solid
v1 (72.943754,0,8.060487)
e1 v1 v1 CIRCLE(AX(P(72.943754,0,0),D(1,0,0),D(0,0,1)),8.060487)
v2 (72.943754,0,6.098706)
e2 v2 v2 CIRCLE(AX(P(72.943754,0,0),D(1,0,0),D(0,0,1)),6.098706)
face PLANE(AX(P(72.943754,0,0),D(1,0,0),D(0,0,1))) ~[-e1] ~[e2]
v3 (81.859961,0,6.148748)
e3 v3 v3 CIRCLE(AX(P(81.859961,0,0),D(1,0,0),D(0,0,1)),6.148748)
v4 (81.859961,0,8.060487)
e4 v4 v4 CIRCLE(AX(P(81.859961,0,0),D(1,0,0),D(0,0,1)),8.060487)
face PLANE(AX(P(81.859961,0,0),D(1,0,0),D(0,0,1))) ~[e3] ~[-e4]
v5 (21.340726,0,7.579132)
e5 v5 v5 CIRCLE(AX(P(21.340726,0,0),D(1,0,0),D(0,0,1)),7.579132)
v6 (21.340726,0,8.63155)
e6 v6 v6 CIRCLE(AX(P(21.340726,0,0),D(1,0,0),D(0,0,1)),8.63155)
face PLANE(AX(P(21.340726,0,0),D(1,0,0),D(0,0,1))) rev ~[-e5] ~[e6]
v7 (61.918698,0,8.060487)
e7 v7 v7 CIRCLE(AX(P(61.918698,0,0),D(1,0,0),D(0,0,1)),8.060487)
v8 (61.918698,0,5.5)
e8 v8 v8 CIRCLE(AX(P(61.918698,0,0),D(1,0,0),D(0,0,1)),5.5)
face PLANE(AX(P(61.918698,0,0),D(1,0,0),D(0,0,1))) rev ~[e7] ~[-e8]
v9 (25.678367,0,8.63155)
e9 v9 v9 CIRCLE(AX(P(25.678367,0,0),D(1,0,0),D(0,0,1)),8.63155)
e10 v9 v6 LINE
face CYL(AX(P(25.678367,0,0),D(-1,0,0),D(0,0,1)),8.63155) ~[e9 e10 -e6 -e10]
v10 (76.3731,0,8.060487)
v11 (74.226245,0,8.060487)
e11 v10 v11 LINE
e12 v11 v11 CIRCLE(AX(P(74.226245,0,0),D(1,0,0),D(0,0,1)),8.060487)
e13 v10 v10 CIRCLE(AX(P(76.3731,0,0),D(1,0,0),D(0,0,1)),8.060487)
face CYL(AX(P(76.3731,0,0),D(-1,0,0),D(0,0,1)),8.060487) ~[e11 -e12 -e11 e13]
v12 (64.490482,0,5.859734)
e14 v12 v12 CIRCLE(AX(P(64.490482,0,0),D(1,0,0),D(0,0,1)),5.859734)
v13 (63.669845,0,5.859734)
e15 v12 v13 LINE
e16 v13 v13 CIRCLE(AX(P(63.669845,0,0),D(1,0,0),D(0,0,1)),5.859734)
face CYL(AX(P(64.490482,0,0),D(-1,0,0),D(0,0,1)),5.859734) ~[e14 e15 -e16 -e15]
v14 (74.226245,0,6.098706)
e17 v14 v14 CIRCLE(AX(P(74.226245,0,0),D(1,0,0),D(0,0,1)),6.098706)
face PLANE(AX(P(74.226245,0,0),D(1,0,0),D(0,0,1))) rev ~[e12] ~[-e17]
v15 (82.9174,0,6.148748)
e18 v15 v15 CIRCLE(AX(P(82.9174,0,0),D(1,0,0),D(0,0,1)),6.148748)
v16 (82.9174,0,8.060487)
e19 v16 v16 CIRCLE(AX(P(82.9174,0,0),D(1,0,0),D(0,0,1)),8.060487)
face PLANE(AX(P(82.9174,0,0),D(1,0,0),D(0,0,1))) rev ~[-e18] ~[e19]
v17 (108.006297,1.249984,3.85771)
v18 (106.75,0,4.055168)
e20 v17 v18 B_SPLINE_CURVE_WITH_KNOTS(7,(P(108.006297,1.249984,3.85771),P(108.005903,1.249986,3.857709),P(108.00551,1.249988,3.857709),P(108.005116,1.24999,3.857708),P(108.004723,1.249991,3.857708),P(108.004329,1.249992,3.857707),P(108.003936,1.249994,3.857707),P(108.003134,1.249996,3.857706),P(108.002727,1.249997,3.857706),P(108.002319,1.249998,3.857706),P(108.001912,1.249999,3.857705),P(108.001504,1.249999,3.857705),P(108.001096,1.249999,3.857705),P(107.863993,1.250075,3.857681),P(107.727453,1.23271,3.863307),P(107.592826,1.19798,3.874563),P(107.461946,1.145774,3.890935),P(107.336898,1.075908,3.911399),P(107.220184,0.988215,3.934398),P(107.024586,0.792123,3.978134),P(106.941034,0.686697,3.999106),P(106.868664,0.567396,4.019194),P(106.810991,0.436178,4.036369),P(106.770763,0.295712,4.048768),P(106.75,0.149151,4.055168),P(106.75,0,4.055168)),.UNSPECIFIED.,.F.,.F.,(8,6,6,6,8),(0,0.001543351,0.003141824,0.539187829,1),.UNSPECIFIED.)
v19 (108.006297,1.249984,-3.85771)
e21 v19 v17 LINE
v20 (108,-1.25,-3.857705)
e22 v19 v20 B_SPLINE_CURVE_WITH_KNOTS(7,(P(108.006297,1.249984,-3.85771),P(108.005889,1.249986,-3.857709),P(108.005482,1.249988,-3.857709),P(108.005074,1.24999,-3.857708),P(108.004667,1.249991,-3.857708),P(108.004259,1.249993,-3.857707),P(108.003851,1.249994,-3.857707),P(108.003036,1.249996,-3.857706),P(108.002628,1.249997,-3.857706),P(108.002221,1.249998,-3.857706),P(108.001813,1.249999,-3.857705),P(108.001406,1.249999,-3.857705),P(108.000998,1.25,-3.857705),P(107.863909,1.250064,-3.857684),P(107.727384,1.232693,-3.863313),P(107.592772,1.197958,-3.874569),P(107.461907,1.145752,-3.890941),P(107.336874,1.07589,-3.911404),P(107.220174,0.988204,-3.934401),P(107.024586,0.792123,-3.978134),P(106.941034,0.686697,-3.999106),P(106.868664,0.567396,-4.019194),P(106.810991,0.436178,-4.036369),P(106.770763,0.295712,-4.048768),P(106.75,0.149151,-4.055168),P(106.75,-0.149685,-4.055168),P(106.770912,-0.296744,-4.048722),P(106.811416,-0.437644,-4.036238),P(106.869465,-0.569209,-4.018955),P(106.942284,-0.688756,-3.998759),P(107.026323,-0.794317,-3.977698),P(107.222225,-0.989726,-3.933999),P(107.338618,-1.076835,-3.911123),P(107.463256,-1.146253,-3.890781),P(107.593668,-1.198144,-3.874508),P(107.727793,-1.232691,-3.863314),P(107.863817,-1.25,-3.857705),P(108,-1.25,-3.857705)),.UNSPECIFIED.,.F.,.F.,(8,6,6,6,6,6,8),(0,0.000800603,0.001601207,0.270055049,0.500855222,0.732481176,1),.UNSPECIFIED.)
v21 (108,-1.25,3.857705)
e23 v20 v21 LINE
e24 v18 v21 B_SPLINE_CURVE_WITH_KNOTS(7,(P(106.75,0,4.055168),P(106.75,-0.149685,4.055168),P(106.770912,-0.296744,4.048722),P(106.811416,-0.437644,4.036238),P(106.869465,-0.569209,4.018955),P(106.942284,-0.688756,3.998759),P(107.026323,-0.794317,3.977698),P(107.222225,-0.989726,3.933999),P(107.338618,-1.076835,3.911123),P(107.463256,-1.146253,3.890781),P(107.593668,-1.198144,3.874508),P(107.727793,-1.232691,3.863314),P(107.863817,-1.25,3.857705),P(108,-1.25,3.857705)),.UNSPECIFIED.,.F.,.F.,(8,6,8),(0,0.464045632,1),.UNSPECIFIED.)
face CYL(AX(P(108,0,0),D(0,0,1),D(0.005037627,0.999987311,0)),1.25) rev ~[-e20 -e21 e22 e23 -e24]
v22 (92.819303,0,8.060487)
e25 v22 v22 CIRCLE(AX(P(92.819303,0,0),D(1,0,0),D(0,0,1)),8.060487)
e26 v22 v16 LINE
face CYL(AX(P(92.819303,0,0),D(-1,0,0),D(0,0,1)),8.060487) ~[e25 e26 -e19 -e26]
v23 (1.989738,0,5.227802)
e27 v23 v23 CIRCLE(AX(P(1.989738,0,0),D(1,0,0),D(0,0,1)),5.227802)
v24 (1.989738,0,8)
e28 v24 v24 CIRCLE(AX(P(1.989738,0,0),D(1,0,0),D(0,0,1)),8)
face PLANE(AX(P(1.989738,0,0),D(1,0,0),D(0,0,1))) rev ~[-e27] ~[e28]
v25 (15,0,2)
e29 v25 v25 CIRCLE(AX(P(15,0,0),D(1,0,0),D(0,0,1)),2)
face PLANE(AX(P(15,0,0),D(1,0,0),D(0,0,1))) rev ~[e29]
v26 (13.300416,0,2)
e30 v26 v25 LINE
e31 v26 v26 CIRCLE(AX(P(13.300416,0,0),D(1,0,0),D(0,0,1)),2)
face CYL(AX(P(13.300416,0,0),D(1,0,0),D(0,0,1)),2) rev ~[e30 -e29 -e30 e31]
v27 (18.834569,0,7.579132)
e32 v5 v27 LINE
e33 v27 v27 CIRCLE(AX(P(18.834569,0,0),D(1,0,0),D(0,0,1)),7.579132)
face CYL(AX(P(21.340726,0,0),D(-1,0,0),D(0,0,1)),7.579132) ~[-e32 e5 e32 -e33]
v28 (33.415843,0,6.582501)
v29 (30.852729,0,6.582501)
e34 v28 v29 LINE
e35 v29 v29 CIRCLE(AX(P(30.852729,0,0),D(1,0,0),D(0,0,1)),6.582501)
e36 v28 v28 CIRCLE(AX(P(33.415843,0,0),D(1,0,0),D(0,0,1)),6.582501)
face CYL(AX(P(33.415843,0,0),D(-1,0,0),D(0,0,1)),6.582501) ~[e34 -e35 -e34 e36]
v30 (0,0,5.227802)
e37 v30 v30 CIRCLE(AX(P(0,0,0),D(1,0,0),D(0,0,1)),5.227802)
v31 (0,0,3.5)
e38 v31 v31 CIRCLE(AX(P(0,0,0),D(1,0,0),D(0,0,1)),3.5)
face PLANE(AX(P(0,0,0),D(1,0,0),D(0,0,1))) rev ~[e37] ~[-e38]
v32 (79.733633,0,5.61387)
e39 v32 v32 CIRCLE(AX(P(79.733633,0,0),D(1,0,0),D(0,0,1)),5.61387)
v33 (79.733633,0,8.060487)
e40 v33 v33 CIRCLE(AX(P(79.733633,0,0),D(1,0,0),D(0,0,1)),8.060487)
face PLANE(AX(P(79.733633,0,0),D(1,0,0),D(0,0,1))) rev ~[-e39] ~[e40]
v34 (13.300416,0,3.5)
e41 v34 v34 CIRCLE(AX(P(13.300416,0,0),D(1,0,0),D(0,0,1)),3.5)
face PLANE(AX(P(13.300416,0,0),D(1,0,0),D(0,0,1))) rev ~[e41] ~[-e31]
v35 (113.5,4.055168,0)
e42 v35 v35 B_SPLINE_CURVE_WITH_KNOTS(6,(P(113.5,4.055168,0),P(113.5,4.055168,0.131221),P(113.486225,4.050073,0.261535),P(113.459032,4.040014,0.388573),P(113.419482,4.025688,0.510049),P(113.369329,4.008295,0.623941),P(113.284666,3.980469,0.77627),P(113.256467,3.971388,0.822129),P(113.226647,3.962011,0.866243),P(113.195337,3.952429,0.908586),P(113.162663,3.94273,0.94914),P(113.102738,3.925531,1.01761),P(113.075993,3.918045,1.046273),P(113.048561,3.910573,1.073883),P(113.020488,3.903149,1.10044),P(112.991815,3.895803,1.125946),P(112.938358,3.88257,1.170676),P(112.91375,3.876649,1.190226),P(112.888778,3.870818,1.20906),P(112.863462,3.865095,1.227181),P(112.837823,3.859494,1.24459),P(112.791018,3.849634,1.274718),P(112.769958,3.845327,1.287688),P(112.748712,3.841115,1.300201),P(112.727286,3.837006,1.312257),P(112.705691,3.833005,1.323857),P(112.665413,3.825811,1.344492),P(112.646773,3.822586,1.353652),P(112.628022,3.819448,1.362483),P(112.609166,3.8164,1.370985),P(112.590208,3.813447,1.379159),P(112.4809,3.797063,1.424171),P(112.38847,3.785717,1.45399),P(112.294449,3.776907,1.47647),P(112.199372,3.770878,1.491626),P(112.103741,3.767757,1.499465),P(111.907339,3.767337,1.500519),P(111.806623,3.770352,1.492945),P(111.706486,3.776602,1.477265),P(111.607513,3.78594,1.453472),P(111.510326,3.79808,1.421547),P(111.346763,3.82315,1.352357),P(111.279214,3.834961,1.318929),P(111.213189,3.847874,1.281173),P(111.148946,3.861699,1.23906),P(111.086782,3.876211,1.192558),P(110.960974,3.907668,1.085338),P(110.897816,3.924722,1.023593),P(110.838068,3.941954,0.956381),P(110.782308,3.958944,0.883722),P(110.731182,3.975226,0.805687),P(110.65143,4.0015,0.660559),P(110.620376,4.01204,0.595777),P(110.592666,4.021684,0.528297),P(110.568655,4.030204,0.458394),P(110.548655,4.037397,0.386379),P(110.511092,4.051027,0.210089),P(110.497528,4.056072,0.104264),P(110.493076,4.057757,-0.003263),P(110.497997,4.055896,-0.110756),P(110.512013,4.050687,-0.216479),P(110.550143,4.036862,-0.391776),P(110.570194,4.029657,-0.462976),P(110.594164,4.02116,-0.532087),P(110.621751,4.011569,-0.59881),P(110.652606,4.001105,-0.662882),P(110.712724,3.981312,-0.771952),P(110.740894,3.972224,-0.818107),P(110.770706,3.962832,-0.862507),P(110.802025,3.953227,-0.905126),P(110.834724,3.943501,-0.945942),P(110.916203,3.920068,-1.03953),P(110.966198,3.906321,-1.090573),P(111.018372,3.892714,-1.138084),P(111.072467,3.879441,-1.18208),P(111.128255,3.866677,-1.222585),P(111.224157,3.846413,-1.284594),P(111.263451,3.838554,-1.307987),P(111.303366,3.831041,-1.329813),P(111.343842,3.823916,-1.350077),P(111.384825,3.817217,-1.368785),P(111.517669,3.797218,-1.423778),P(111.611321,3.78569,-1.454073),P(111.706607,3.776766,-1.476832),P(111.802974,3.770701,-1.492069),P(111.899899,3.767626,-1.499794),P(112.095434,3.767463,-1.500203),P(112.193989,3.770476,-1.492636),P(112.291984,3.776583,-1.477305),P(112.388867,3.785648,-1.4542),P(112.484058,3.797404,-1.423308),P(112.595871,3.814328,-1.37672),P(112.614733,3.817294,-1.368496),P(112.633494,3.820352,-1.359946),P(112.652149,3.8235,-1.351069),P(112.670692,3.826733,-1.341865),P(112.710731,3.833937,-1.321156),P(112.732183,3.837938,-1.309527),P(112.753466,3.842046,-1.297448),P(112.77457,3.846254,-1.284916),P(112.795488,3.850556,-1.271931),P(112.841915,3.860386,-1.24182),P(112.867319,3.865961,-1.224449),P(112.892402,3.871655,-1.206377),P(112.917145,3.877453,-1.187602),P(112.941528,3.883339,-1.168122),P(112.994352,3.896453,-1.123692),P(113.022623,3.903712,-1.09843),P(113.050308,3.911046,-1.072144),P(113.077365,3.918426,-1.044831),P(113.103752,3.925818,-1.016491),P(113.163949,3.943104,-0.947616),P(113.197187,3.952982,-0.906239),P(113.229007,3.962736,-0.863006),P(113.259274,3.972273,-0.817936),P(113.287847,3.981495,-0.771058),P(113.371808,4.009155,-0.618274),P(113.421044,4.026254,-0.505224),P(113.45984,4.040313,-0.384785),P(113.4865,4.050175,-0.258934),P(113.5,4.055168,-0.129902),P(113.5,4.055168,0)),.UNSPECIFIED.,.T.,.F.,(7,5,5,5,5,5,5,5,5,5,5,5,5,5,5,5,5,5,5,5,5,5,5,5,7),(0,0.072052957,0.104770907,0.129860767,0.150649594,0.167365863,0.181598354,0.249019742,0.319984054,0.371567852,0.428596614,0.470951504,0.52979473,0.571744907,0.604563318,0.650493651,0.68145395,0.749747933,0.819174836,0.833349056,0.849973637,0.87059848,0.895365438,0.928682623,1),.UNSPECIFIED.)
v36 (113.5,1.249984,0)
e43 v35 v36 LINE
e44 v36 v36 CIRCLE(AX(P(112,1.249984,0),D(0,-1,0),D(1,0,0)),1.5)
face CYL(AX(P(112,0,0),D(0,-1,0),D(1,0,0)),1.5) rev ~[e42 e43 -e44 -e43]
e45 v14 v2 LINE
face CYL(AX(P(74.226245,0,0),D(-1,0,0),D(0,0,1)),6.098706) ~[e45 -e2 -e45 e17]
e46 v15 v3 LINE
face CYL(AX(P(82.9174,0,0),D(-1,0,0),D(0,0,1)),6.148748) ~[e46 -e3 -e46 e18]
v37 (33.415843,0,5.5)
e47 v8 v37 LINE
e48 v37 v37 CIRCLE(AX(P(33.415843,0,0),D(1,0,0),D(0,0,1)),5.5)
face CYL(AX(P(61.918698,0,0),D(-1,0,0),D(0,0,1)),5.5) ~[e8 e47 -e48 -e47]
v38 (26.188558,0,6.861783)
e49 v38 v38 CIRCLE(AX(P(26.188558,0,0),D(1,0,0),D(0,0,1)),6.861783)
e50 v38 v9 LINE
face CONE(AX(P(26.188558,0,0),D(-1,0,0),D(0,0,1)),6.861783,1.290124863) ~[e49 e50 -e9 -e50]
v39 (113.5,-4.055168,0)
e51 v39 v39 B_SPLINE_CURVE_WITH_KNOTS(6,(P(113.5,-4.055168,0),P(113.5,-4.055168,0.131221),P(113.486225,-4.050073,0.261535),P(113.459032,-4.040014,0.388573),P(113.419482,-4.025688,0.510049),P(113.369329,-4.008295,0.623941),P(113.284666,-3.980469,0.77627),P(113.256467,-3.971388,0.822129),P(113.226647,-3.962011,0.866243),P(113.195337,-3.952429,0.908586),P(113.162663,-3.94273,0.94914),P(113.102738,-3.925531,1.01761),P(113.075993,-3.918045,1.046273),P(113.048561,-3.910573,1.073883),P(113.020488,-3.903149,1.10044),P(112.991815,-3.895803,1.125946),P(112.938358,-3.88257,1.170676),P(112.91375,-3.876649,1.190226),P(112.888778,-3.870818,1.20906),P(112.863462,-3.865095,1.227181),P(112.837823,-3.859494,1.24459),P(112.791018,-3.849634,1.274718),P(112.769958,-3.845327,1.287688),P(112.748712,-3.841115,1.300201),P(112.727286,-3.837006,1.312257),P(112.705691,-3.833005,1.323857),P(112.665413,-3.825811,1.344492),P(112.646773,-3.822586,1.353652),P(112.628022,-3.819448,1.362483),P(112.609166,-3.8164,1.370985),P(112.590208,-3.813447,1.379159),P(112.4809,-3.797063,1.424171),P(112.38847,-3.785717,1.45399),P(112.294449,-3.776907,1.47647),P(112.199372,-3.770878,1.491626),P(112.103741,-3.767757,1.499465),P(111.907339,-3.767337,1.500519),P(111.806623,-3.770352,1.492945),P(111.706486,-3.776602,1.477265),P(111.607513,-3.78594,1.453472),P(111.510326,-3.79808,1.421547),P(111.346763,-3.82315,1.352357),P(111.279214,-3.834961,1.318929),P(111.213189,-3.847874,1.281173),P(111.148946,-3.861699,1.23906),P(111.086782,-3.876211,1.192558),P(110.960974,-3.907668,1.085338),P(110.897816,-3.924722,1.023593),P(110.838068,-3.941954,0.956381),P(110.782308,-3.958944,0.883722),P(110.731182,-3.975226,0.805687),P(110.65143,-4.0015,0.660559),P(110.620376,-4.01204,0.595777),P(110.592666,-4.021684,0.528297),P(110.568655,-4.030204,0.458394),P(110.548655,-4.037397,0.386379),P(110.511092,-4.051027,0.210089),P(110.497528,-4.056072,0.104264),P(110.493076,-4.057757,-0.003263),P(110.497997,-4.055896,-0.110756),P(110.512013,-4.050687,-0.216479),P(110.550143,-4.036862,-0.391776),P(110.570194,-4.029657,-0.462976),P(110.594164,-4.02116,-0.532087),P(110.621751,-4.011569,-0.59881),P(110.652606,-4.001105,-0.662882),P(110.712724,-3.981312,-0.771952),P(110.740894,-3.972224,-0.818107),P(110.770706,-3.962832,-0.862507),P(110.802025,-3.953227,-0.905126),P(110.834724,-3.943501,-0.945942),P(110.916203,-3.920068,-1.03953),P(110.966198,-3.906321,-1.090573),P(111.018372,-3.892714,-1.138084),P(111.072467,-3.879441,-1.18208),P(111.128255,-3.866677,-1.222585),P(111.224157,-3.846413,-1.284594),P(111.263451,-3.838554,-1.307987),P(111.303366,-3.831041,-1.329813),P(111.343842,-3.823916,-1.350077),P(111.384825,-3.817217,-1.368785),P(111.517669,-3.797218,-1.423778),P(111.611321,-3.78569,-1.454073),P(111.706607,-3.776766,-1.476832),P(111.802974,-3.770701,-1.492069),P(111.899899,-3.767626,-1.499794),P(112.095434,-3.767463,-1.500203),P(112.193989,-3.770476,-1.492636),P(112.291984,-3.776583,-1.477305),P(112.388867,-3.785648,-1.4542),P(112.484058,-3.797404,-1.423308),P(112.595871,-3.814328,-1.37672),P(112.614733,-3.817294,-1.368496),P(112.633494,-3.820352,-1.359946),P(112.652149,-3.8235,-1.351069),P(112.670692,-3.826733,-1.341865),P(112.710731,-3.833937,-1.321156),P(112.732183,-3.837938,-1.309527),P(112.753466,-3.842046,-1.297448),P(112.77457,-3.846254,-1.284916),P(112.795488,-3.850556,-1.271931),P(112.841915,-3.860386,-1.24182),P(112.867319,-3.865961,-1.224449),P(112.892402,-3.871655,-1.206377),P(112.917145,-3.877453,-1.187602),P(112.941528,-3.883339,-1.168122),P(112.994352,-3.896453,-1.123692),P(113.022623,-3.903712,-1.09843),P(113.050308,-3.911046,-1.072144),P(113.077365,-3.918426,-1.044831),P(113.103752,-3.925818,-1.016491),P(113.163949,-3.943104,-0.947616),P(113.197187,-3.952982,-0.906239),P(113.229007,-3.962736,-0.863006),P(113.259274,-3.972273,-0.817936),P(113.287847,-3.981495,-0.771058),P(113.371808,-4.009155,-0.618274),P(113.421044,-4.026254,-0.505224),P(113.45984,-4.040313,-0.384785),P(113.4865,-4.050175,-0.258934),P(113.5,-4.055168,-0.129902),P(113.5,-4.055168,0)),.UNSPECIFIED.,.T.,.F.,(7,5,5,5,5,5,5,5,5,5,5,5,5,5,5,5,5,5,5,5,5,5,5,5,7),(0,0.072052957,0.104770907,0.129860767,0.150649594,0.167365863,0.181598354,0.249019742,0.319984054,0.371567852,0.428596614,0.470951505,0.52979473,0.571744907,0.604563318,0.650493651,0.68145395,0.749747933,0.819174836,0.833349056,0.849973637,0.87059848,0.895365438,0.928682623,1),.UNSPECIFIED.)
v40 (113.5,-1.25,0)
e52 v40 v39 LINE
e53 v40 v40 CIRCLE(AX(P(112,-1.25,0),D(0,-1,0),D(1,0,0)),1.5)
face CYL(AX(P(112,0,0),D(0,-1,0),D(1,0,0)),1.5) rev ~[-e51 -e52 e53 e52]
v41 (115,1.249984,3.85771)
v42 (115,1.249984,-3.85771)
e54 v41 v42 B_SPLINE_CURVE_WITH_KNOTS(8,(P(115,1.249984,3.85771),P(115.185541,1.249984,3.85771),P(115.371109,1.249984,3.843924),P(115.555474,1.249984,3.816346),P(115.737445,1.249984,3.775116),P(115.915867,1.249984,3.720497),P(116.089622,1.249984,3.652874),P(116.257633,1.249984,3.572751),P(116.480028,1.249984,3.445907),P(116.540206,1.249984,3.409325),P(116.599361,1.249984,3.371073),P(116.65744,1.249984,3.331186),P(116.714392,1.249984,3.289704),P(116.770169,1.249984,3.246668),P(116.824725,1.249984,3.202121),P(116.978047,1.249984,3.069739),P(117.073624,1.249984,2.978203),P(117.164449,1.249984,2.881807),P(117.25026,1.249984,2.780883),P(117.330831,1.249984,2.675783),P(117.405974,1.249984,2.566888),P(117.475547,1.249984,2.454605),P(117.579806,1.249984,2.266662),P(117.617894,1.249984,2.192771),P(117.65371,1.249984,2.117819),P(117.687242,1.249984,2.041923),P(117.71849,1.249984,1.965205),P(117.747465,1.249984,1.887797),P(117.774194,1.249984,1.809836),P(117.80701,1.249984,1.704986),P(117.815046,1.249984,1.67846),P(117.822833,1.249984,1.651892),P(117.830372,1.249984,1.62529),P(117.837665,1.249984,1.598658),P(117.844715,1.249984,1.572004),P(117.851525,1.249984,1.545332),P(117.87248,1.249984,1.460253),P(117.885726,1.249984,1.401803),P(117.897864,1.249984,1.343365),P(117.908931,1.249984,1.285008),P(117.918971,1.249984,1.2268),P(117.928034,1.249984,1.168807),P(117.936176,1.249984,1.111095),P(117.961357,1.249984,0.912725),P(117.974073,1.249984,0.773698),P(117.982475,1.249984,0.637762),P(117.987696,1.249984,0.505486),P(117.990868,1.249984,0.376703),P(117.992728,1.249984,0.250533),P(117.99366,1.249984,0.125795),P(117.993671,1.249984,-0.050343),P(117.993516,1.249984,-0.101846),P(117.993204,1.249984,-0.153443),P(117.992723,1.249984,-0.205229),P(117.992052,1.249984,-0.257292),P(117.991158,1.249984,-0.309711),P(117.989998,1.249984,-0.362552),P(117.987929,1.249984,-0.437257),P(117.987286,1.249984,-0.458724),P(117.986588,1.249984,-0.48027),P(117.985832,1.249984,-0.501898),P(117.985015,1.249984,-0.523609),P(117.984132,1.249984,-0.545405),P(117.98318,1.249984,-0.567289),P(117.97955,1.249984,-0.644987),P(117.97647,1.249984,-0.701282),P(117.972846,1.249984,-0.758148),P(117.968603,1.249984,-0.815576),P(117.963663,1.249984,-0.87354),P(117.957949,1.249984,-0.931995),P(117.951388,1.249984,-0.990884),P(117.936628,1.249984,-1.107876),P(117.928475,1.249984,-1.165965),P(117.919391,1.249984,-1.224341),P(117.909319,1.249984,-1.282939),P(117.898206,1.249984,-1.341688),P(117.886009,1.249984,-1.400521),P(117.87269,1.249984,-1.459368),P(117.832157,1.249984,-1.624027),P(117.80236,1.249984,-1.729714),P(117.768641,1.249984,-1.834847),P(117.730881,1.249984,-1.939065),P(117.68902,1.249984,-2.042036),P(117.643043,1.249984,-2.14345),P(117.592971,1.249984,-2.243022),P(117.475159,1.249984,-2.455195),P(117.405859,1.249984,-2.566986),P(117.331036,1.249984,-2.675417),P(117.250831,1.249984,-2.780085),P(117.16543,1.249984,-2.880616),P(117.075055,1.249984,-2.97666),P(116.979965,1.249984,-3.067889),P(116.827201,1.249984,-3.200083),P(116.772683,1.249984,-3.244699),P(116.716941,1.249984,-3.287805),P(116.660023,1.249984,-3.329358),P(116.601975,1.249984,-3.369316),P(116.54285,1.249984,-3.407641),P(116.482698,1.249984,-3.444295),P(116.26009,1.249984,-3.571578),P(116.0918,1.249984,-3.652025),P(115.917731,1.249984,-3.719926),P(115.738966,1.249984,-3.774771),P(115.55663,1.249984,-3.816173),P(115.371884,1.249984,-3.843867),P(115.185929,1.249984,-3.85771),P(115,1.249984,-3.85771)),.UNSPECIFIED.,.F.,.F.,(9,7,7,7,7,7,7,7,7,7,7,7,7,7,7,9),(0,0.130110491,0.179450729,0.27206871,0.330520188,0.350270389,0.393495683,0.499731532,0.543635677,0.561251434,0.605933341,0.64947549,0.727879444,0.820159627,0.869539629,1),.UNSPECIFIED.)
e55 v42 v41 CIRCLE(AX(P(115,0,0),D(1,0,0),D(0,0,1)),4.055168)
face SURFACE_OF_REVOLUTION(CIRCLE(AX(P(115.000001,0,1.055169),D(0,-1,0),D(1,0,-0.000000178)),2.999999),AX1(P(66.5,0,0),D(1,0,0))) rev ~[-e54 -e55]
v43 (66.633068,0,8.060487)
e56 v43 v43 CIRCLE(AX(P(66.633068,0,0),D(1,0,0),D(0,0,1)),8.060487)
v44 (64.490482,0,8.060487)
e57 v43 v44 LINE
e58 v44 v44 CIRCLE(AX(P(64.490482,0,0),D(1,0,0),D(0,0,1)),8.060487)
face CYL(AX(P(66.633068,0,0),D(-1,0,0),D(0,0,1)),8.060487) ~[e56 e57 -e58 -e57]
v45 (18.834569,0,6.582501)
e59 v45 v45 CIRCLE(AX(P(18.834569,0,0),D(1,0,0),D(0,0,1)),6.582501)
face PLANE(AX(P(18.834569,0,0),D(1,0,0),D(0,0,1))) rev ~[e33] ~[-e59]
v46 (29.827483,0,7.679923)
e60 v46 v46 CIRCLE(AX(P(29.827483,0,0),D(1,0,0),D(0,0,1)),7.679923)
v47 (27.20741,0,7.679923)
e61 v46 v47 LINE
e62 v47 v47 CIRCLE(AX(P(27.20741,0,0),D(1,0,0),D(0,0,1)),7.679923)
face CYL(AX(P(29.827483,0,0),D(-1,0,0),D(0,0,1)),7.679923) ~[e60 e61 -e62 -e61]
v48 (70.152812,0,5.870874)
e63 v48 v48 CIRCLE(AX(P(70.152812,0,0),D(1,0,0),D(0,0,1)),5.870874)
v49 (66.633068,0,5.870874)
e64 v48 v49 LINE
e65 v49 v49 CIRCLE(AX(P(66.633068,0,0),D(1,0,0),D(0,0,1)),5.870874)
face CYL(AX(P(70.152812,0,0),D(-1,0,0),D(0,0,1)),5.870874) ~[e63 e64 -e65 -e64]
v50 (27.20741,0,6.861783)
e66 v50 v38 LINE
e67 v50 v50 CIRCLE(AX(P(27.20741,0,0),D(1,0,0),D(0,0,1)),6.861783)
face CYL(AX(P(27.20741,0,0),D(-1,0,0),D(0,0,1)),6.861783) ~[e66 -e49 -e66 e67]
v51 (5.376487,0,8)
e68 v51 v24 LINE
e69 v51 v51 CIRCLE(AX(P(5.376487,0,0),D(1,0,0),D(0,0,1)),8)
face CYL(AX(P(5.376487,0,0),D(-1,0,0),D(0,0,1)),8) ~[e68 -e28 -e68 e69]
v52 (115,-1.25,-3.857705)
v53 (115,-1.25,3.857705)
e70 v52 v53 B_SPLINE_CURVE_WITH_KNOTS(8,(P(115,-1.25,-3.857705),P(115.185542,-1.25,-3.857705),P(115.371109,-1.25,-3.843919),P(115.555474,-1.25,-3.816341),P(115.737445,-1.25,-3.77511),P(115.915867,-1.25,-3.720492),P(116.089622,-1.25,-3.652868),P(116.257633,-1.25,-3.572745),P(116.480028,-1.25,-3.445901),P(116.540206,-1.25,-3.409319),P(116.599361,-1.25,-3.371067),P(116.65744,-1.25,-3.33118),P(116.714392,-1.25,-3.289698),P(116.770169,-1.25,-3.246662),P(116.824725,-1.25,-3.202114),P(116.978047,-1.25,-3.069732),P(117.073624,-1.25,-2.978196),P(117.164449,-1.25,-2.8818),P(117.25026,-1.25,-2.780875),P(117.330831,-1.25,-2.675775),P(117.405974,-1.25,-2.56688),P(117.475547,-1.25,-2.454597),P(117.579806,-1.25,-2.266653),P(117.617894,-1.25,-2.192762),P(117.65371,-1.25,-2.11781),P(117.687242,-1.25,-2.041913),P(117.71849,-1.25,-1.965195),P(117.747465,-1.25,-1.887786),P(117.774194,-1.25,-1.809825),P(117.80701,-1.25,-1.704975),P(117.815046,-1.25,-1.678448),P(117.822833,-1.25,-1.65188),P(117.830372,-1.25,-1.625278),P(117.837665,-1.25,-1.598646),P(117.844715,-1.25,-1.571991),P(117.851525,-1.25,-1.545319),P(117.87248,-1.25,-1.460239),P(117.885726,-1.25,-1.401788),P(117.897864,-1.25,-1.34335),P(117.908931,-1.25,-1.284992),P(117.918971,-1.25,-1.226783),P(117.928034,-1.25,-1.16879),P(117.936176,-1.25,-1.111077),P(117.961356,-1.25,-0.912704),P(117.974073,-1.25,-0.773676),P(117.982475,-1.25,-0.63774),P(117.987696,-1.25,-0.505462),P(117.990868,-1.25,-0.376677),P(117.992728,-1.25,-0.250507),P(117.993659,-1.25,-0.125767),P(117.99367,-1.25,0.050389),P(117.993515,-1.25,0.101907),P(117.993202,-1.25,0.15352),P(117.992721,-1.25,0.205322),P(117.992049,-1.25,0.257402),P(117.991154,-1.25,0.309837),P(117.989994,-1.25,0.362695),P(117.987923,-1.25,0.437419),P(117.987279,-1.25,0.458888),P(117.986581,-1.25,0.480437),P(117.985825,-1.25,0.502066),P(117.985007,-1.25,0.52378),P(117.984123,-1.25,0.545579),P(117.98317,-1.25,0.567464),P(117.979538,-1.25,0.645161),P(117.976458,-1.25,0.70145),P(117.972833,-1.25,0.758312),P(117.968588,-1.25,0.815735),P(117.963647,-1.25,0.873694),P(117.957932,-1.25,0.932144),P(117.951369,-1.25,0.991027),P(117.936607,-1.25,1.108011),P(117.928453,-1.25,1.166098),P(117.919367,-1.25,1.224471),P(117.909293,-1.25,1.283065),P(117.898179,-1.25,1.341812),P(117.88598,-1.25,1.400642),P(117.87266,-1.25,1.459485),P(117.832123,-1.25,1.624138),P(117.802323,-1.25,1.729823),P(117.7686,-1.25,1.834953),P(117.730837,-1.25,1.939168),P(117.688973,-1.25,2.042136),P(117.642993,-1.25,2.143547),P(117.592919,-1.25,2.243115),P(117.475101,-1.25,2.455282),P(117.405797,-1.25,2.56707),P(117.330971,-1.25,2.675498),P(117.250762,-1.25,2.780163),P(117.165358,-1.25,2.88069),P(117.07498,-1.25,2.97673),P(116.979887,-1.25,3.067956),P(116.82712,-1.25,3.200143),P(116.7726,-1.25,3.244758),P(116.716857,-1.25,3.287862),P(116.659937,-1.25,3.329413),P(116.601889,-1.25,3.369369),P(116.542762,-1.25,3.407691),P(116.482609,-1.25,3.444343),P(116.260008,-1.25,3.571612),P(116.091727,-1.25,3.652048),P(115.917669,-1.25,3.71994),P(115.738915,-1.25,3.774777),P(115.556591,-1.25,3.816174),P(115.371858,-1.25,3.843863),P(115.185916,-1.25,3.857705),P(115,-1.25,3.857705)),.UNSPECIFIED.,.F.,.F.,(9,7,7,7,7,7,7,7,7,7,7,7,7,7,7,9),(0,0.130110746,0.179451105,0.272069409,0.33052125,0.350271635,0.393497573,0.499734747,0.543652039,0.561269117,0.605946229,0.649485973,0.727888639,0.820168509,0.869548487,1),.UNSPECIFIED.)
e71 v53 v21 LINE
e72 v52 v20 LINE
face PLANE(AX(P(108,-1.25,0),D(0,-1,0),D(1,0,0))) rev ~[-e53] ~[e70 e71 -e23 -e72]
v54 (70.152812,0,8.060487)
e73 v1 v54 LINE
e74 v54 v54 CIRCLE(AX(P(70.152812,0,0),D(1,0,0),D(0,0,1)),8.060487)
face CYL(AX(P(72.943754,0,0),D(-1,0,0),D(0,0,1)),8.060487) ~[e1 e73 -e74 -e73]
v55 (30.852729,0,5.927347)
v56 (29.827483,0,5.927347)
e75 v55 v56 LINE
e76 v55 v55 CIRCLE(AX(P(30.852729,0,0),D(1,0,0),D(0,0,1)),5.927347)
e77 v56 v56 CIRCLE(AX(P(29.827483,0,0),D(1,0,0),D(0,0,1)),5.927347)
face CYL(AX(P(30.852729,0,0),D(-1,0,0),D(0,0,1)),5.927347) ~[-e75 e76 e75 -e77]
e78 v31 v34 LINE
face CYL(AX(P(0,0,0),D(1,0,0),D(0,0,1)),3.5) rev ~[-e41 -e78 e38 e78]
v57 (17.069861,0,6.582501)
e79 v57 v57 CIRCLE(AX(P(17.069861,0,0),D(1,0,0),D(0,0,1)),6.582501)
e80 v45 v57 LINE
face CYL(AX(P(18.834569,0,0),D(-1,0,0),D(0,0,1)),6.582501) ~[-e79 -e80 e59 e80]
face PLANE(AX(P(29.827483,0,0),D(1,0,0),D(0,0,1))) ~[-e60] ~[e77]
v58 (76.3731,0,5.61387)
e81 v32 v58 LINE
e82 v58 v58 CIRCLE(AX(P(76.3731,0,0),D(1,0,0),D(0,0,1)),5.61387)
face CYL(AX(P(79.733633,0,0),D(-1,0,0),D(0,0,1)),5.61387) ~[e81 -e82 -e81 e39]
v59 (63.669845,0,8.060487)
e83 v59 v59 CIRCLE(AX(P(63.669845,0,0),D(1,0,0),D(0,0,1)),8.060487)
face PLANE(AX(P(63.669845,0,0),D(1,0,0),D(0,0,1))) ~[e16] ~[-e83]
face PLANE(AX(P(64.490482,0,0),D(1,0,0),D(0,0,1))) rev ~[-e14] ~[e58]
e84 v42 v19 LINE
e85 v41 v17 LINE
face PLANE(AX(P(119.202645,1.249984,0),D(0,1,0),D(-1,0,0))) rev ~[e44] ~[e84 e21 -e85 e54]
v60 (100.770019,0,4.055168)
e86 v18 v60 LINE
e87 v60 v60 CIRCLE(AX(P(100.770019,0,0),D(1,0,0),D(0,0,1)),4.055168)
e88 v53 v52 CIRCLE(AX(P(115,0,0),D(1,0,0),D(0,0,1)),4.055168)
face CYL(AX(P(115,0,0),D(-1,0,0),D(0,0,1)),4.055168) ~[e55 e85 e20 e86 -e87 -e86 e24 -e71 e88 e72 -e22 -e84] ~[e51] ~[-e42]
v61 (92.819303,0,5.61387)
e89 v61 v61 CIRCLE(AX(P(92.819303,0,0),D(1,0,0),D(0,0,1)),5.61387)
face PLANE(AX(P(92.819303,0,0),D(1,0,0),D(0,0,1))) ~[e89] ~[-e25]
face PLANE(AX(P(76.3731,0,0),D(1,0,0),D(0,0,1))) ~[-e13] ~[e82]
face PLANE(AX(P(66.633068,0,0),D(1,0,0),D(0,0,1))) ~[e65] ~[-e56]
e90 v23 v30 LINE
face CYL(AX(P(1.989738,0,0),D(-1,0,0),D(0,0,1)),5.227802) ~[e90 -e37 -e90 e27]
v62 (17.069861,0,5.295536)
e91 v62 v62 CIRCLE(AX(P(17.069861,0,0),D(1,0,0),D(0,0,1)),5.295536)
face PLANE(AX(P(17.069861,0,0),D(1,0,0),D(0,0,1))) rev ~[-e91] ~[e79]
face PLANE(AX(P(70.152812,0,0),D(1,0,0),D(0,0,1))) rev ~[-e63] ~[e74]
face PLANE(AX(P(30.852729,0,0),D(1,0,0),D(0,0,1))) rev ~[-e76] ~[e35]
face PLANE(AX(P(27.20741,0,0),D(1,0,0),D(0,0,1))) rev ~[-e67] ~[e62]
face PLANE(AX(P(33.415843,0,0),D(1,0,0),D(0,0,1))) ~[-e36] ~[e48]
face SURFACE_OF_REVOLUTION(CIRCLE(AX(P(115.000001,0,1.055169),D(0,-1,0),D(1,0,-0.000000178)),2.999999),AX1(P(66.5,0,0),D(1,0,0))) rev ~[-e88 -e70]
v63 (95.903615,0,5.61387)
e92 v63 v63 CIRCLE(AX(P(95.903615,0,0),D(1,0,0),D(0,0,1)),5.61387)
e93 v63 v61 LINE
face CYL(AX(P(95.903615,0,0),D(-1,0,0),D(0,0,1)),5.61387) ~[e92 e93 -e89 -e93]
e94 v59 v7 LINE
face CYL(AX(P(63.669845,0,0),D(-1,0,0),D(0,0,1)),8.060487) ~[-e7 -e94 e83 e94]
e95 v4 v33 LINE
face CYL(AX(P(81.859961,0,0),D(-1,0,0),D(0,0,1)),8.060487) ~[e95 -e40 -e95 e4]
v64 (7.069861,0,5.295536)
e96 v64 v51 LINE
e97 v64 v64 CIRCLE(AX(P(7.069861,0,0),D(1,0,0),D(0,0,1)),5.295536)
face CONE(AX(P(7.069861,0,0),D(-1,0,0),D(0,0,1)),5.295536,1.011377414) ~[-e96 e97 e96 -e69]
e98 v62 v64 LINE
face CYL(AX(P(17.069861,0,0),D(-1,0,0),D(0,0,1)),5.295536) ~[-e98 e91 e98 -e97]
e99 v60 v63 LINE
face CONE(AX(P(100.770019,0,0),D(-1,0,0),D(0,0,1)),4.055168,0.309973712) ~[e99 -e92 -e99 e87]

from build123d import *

# Parameters (mm, degrees)
F2_R     = 1.5
F3_DEPTH = 12.7
F5_DEPTH = 12.5


with BuildPart() as f1:
    # F0 (on Front) → F1 (revolve)
    with BuildSketch(Plane.XZ):
        with BuildLine():
            Line((0, 5.227802), (0, 3.5))
            Line((0, 3.5), (13.300416, 3.5))
            Line((13.300416, 3.5), (13.300416, 2))
            Line((13.300416, 2), (15, 2))
            Line((15, 2), (15, 0))
            Line((15, 0), (118, 0))
            Line((118, 0), (118, 1.055168))
            ThreePointArc((118, 1.055168), (117.12132, 3.176489), (115, 4.055168))
            Line((115, 4.055168), (100.770019, 4.055168))
            Line((100.770019, 4.055168), (95.903615, 5.61387))
            Line((95.903615, 5.61387), (92.819303, 5.61387))
            Line((92.819303, 5.61387), (92.819303, 8.060487))
            Line((92.819303, 8.060487), (82.9174, 8.060487))
            Line((82.9174, 8.060487), (82.9174, 6.148748))
            Line((82.9174, 6.148748), (81.859961, 6.148748))
            Line((81.859961, 6.148748), (81.859961, 8.060487))
            Line((81.859961, 8.060487), (79.733633, 8.060487))
            Line((79.733633, 8.060487), (79.733633, 5.61387))
            Line((79.733633, 5.61387), (76.3731, 5.61387))
            Line((76.3731, 5.61387), (76.3731, 8.060487))
            Line((76.3731, 8.060487), (74.226245, 8.060487))
            Line((74.226245, 8.060487), (74.226245, 6.098706))
            Line((74.226245, 6.098706), (72.943754, 6.098706))
            Line((72.943754, 6.098706), (72.943754, 8.060487))
            Line((72.943754, 8.060487), (70.152812, 8.060487))
            Line((70.152812, 8.060487), (70.152812, 5.870874))
            Line((70.152812, 5.870874), (66.633068, 5.870874))
            Line((66.633068, 5.870874), (66.633068, 8.060487))
            Line((66.633068, 8.060487), (64.490482, 8.060487))
            Line((64.490482, 8.060487), (64.490482, 5.859734))
            Line((64.490482, 5.859734), (63.669845, 5.859734))
            Line((63.669845, 5.859734), (63.669845, 8.060487))
            Line((63.669845, 8.060487), (61.918698, 8.060487))
            Line((61.918698, 8.060487), (61.918698, 5.5))
            Line((61.918698, 5.5), (33.415843, 5.5))
            Line((33.415843, 5.5), (33.415843, 6.582501))
            Line((33.415843, 6.582501), (30.852729, 6.582501))
            Line((30.852729, 6.582501), (30.852729, 5.927347))
            Line((30.852729, 5.927347), (29.827483, 5.927347))
            Line((29.827483, 5.927347), (29.827483, 7.679923))
            Line((29.827483, 7.679923), (27.20741, 7.679923))
            Line((27.20741, 7.679923), (27.20741, 6.861783))
            Line((27.20741, 6.861783), (26.188558, 6.861783))
            Line((26.188558, 6.861783), (25.678367, 8.63155))
            Line((25.678367, 8.63155), (21.340726, 8.63155))
            Line((21.340726, 8.63155), (21.340726, 7.579132))
            Line((21.340726, 7.579132), (18.834569, 7.579132))
            Line((18.834569, 7.579132), (18.834569, 6.582501))
            Line((18.834569, 6.582501), (17.069861, 6.582501))
            Line((17.069861, 6.582501), (17.069861, 5.295536))
            Line((17.069861, 5.295536), (7.069861, 5.295536))
            Line((7.069861, 5.295536), (5.376487, 8))
            Line((5.376487, 8), (1.989738, 8))
            Line((1.989738, 8), (1.989738, 5.227802))
            Line((1.989738, 5.227802), (0, 5.227802))
        make_face()
    revolve(axis=Axis((66.5, 0, 0), (1, 0, 0)))

    # F2 (on Front) → F3 (cut, symmetric)
    with BuildSketch(Plane.XZ):
        with Locations((112, 0)):
            Circle(F2_R)
    extrude(amount=F3_DEPTH, both=True, mode=Mode.SUBTRACT)

    # F4 (on Top) → F5 (cut, symmetric)
    with BuildSketch(Plane.XY):
        with BuildLine():
            Line((119.202645, 1.249984), (108.006297, 1.249984))
            ThreePointArc((108.006297, 1.249984), (106.750004, 0.003148), (108, -1.25))
            Line((108, -1.25), (119.202645, -1.25))
            Line((119.202645, -1.25), (119.202645, 1.249984))
        make_face()
    extrude(amount=F5_DEPTH, both=True, mode=Mode.SUBTRACT)


solid = f1.part
